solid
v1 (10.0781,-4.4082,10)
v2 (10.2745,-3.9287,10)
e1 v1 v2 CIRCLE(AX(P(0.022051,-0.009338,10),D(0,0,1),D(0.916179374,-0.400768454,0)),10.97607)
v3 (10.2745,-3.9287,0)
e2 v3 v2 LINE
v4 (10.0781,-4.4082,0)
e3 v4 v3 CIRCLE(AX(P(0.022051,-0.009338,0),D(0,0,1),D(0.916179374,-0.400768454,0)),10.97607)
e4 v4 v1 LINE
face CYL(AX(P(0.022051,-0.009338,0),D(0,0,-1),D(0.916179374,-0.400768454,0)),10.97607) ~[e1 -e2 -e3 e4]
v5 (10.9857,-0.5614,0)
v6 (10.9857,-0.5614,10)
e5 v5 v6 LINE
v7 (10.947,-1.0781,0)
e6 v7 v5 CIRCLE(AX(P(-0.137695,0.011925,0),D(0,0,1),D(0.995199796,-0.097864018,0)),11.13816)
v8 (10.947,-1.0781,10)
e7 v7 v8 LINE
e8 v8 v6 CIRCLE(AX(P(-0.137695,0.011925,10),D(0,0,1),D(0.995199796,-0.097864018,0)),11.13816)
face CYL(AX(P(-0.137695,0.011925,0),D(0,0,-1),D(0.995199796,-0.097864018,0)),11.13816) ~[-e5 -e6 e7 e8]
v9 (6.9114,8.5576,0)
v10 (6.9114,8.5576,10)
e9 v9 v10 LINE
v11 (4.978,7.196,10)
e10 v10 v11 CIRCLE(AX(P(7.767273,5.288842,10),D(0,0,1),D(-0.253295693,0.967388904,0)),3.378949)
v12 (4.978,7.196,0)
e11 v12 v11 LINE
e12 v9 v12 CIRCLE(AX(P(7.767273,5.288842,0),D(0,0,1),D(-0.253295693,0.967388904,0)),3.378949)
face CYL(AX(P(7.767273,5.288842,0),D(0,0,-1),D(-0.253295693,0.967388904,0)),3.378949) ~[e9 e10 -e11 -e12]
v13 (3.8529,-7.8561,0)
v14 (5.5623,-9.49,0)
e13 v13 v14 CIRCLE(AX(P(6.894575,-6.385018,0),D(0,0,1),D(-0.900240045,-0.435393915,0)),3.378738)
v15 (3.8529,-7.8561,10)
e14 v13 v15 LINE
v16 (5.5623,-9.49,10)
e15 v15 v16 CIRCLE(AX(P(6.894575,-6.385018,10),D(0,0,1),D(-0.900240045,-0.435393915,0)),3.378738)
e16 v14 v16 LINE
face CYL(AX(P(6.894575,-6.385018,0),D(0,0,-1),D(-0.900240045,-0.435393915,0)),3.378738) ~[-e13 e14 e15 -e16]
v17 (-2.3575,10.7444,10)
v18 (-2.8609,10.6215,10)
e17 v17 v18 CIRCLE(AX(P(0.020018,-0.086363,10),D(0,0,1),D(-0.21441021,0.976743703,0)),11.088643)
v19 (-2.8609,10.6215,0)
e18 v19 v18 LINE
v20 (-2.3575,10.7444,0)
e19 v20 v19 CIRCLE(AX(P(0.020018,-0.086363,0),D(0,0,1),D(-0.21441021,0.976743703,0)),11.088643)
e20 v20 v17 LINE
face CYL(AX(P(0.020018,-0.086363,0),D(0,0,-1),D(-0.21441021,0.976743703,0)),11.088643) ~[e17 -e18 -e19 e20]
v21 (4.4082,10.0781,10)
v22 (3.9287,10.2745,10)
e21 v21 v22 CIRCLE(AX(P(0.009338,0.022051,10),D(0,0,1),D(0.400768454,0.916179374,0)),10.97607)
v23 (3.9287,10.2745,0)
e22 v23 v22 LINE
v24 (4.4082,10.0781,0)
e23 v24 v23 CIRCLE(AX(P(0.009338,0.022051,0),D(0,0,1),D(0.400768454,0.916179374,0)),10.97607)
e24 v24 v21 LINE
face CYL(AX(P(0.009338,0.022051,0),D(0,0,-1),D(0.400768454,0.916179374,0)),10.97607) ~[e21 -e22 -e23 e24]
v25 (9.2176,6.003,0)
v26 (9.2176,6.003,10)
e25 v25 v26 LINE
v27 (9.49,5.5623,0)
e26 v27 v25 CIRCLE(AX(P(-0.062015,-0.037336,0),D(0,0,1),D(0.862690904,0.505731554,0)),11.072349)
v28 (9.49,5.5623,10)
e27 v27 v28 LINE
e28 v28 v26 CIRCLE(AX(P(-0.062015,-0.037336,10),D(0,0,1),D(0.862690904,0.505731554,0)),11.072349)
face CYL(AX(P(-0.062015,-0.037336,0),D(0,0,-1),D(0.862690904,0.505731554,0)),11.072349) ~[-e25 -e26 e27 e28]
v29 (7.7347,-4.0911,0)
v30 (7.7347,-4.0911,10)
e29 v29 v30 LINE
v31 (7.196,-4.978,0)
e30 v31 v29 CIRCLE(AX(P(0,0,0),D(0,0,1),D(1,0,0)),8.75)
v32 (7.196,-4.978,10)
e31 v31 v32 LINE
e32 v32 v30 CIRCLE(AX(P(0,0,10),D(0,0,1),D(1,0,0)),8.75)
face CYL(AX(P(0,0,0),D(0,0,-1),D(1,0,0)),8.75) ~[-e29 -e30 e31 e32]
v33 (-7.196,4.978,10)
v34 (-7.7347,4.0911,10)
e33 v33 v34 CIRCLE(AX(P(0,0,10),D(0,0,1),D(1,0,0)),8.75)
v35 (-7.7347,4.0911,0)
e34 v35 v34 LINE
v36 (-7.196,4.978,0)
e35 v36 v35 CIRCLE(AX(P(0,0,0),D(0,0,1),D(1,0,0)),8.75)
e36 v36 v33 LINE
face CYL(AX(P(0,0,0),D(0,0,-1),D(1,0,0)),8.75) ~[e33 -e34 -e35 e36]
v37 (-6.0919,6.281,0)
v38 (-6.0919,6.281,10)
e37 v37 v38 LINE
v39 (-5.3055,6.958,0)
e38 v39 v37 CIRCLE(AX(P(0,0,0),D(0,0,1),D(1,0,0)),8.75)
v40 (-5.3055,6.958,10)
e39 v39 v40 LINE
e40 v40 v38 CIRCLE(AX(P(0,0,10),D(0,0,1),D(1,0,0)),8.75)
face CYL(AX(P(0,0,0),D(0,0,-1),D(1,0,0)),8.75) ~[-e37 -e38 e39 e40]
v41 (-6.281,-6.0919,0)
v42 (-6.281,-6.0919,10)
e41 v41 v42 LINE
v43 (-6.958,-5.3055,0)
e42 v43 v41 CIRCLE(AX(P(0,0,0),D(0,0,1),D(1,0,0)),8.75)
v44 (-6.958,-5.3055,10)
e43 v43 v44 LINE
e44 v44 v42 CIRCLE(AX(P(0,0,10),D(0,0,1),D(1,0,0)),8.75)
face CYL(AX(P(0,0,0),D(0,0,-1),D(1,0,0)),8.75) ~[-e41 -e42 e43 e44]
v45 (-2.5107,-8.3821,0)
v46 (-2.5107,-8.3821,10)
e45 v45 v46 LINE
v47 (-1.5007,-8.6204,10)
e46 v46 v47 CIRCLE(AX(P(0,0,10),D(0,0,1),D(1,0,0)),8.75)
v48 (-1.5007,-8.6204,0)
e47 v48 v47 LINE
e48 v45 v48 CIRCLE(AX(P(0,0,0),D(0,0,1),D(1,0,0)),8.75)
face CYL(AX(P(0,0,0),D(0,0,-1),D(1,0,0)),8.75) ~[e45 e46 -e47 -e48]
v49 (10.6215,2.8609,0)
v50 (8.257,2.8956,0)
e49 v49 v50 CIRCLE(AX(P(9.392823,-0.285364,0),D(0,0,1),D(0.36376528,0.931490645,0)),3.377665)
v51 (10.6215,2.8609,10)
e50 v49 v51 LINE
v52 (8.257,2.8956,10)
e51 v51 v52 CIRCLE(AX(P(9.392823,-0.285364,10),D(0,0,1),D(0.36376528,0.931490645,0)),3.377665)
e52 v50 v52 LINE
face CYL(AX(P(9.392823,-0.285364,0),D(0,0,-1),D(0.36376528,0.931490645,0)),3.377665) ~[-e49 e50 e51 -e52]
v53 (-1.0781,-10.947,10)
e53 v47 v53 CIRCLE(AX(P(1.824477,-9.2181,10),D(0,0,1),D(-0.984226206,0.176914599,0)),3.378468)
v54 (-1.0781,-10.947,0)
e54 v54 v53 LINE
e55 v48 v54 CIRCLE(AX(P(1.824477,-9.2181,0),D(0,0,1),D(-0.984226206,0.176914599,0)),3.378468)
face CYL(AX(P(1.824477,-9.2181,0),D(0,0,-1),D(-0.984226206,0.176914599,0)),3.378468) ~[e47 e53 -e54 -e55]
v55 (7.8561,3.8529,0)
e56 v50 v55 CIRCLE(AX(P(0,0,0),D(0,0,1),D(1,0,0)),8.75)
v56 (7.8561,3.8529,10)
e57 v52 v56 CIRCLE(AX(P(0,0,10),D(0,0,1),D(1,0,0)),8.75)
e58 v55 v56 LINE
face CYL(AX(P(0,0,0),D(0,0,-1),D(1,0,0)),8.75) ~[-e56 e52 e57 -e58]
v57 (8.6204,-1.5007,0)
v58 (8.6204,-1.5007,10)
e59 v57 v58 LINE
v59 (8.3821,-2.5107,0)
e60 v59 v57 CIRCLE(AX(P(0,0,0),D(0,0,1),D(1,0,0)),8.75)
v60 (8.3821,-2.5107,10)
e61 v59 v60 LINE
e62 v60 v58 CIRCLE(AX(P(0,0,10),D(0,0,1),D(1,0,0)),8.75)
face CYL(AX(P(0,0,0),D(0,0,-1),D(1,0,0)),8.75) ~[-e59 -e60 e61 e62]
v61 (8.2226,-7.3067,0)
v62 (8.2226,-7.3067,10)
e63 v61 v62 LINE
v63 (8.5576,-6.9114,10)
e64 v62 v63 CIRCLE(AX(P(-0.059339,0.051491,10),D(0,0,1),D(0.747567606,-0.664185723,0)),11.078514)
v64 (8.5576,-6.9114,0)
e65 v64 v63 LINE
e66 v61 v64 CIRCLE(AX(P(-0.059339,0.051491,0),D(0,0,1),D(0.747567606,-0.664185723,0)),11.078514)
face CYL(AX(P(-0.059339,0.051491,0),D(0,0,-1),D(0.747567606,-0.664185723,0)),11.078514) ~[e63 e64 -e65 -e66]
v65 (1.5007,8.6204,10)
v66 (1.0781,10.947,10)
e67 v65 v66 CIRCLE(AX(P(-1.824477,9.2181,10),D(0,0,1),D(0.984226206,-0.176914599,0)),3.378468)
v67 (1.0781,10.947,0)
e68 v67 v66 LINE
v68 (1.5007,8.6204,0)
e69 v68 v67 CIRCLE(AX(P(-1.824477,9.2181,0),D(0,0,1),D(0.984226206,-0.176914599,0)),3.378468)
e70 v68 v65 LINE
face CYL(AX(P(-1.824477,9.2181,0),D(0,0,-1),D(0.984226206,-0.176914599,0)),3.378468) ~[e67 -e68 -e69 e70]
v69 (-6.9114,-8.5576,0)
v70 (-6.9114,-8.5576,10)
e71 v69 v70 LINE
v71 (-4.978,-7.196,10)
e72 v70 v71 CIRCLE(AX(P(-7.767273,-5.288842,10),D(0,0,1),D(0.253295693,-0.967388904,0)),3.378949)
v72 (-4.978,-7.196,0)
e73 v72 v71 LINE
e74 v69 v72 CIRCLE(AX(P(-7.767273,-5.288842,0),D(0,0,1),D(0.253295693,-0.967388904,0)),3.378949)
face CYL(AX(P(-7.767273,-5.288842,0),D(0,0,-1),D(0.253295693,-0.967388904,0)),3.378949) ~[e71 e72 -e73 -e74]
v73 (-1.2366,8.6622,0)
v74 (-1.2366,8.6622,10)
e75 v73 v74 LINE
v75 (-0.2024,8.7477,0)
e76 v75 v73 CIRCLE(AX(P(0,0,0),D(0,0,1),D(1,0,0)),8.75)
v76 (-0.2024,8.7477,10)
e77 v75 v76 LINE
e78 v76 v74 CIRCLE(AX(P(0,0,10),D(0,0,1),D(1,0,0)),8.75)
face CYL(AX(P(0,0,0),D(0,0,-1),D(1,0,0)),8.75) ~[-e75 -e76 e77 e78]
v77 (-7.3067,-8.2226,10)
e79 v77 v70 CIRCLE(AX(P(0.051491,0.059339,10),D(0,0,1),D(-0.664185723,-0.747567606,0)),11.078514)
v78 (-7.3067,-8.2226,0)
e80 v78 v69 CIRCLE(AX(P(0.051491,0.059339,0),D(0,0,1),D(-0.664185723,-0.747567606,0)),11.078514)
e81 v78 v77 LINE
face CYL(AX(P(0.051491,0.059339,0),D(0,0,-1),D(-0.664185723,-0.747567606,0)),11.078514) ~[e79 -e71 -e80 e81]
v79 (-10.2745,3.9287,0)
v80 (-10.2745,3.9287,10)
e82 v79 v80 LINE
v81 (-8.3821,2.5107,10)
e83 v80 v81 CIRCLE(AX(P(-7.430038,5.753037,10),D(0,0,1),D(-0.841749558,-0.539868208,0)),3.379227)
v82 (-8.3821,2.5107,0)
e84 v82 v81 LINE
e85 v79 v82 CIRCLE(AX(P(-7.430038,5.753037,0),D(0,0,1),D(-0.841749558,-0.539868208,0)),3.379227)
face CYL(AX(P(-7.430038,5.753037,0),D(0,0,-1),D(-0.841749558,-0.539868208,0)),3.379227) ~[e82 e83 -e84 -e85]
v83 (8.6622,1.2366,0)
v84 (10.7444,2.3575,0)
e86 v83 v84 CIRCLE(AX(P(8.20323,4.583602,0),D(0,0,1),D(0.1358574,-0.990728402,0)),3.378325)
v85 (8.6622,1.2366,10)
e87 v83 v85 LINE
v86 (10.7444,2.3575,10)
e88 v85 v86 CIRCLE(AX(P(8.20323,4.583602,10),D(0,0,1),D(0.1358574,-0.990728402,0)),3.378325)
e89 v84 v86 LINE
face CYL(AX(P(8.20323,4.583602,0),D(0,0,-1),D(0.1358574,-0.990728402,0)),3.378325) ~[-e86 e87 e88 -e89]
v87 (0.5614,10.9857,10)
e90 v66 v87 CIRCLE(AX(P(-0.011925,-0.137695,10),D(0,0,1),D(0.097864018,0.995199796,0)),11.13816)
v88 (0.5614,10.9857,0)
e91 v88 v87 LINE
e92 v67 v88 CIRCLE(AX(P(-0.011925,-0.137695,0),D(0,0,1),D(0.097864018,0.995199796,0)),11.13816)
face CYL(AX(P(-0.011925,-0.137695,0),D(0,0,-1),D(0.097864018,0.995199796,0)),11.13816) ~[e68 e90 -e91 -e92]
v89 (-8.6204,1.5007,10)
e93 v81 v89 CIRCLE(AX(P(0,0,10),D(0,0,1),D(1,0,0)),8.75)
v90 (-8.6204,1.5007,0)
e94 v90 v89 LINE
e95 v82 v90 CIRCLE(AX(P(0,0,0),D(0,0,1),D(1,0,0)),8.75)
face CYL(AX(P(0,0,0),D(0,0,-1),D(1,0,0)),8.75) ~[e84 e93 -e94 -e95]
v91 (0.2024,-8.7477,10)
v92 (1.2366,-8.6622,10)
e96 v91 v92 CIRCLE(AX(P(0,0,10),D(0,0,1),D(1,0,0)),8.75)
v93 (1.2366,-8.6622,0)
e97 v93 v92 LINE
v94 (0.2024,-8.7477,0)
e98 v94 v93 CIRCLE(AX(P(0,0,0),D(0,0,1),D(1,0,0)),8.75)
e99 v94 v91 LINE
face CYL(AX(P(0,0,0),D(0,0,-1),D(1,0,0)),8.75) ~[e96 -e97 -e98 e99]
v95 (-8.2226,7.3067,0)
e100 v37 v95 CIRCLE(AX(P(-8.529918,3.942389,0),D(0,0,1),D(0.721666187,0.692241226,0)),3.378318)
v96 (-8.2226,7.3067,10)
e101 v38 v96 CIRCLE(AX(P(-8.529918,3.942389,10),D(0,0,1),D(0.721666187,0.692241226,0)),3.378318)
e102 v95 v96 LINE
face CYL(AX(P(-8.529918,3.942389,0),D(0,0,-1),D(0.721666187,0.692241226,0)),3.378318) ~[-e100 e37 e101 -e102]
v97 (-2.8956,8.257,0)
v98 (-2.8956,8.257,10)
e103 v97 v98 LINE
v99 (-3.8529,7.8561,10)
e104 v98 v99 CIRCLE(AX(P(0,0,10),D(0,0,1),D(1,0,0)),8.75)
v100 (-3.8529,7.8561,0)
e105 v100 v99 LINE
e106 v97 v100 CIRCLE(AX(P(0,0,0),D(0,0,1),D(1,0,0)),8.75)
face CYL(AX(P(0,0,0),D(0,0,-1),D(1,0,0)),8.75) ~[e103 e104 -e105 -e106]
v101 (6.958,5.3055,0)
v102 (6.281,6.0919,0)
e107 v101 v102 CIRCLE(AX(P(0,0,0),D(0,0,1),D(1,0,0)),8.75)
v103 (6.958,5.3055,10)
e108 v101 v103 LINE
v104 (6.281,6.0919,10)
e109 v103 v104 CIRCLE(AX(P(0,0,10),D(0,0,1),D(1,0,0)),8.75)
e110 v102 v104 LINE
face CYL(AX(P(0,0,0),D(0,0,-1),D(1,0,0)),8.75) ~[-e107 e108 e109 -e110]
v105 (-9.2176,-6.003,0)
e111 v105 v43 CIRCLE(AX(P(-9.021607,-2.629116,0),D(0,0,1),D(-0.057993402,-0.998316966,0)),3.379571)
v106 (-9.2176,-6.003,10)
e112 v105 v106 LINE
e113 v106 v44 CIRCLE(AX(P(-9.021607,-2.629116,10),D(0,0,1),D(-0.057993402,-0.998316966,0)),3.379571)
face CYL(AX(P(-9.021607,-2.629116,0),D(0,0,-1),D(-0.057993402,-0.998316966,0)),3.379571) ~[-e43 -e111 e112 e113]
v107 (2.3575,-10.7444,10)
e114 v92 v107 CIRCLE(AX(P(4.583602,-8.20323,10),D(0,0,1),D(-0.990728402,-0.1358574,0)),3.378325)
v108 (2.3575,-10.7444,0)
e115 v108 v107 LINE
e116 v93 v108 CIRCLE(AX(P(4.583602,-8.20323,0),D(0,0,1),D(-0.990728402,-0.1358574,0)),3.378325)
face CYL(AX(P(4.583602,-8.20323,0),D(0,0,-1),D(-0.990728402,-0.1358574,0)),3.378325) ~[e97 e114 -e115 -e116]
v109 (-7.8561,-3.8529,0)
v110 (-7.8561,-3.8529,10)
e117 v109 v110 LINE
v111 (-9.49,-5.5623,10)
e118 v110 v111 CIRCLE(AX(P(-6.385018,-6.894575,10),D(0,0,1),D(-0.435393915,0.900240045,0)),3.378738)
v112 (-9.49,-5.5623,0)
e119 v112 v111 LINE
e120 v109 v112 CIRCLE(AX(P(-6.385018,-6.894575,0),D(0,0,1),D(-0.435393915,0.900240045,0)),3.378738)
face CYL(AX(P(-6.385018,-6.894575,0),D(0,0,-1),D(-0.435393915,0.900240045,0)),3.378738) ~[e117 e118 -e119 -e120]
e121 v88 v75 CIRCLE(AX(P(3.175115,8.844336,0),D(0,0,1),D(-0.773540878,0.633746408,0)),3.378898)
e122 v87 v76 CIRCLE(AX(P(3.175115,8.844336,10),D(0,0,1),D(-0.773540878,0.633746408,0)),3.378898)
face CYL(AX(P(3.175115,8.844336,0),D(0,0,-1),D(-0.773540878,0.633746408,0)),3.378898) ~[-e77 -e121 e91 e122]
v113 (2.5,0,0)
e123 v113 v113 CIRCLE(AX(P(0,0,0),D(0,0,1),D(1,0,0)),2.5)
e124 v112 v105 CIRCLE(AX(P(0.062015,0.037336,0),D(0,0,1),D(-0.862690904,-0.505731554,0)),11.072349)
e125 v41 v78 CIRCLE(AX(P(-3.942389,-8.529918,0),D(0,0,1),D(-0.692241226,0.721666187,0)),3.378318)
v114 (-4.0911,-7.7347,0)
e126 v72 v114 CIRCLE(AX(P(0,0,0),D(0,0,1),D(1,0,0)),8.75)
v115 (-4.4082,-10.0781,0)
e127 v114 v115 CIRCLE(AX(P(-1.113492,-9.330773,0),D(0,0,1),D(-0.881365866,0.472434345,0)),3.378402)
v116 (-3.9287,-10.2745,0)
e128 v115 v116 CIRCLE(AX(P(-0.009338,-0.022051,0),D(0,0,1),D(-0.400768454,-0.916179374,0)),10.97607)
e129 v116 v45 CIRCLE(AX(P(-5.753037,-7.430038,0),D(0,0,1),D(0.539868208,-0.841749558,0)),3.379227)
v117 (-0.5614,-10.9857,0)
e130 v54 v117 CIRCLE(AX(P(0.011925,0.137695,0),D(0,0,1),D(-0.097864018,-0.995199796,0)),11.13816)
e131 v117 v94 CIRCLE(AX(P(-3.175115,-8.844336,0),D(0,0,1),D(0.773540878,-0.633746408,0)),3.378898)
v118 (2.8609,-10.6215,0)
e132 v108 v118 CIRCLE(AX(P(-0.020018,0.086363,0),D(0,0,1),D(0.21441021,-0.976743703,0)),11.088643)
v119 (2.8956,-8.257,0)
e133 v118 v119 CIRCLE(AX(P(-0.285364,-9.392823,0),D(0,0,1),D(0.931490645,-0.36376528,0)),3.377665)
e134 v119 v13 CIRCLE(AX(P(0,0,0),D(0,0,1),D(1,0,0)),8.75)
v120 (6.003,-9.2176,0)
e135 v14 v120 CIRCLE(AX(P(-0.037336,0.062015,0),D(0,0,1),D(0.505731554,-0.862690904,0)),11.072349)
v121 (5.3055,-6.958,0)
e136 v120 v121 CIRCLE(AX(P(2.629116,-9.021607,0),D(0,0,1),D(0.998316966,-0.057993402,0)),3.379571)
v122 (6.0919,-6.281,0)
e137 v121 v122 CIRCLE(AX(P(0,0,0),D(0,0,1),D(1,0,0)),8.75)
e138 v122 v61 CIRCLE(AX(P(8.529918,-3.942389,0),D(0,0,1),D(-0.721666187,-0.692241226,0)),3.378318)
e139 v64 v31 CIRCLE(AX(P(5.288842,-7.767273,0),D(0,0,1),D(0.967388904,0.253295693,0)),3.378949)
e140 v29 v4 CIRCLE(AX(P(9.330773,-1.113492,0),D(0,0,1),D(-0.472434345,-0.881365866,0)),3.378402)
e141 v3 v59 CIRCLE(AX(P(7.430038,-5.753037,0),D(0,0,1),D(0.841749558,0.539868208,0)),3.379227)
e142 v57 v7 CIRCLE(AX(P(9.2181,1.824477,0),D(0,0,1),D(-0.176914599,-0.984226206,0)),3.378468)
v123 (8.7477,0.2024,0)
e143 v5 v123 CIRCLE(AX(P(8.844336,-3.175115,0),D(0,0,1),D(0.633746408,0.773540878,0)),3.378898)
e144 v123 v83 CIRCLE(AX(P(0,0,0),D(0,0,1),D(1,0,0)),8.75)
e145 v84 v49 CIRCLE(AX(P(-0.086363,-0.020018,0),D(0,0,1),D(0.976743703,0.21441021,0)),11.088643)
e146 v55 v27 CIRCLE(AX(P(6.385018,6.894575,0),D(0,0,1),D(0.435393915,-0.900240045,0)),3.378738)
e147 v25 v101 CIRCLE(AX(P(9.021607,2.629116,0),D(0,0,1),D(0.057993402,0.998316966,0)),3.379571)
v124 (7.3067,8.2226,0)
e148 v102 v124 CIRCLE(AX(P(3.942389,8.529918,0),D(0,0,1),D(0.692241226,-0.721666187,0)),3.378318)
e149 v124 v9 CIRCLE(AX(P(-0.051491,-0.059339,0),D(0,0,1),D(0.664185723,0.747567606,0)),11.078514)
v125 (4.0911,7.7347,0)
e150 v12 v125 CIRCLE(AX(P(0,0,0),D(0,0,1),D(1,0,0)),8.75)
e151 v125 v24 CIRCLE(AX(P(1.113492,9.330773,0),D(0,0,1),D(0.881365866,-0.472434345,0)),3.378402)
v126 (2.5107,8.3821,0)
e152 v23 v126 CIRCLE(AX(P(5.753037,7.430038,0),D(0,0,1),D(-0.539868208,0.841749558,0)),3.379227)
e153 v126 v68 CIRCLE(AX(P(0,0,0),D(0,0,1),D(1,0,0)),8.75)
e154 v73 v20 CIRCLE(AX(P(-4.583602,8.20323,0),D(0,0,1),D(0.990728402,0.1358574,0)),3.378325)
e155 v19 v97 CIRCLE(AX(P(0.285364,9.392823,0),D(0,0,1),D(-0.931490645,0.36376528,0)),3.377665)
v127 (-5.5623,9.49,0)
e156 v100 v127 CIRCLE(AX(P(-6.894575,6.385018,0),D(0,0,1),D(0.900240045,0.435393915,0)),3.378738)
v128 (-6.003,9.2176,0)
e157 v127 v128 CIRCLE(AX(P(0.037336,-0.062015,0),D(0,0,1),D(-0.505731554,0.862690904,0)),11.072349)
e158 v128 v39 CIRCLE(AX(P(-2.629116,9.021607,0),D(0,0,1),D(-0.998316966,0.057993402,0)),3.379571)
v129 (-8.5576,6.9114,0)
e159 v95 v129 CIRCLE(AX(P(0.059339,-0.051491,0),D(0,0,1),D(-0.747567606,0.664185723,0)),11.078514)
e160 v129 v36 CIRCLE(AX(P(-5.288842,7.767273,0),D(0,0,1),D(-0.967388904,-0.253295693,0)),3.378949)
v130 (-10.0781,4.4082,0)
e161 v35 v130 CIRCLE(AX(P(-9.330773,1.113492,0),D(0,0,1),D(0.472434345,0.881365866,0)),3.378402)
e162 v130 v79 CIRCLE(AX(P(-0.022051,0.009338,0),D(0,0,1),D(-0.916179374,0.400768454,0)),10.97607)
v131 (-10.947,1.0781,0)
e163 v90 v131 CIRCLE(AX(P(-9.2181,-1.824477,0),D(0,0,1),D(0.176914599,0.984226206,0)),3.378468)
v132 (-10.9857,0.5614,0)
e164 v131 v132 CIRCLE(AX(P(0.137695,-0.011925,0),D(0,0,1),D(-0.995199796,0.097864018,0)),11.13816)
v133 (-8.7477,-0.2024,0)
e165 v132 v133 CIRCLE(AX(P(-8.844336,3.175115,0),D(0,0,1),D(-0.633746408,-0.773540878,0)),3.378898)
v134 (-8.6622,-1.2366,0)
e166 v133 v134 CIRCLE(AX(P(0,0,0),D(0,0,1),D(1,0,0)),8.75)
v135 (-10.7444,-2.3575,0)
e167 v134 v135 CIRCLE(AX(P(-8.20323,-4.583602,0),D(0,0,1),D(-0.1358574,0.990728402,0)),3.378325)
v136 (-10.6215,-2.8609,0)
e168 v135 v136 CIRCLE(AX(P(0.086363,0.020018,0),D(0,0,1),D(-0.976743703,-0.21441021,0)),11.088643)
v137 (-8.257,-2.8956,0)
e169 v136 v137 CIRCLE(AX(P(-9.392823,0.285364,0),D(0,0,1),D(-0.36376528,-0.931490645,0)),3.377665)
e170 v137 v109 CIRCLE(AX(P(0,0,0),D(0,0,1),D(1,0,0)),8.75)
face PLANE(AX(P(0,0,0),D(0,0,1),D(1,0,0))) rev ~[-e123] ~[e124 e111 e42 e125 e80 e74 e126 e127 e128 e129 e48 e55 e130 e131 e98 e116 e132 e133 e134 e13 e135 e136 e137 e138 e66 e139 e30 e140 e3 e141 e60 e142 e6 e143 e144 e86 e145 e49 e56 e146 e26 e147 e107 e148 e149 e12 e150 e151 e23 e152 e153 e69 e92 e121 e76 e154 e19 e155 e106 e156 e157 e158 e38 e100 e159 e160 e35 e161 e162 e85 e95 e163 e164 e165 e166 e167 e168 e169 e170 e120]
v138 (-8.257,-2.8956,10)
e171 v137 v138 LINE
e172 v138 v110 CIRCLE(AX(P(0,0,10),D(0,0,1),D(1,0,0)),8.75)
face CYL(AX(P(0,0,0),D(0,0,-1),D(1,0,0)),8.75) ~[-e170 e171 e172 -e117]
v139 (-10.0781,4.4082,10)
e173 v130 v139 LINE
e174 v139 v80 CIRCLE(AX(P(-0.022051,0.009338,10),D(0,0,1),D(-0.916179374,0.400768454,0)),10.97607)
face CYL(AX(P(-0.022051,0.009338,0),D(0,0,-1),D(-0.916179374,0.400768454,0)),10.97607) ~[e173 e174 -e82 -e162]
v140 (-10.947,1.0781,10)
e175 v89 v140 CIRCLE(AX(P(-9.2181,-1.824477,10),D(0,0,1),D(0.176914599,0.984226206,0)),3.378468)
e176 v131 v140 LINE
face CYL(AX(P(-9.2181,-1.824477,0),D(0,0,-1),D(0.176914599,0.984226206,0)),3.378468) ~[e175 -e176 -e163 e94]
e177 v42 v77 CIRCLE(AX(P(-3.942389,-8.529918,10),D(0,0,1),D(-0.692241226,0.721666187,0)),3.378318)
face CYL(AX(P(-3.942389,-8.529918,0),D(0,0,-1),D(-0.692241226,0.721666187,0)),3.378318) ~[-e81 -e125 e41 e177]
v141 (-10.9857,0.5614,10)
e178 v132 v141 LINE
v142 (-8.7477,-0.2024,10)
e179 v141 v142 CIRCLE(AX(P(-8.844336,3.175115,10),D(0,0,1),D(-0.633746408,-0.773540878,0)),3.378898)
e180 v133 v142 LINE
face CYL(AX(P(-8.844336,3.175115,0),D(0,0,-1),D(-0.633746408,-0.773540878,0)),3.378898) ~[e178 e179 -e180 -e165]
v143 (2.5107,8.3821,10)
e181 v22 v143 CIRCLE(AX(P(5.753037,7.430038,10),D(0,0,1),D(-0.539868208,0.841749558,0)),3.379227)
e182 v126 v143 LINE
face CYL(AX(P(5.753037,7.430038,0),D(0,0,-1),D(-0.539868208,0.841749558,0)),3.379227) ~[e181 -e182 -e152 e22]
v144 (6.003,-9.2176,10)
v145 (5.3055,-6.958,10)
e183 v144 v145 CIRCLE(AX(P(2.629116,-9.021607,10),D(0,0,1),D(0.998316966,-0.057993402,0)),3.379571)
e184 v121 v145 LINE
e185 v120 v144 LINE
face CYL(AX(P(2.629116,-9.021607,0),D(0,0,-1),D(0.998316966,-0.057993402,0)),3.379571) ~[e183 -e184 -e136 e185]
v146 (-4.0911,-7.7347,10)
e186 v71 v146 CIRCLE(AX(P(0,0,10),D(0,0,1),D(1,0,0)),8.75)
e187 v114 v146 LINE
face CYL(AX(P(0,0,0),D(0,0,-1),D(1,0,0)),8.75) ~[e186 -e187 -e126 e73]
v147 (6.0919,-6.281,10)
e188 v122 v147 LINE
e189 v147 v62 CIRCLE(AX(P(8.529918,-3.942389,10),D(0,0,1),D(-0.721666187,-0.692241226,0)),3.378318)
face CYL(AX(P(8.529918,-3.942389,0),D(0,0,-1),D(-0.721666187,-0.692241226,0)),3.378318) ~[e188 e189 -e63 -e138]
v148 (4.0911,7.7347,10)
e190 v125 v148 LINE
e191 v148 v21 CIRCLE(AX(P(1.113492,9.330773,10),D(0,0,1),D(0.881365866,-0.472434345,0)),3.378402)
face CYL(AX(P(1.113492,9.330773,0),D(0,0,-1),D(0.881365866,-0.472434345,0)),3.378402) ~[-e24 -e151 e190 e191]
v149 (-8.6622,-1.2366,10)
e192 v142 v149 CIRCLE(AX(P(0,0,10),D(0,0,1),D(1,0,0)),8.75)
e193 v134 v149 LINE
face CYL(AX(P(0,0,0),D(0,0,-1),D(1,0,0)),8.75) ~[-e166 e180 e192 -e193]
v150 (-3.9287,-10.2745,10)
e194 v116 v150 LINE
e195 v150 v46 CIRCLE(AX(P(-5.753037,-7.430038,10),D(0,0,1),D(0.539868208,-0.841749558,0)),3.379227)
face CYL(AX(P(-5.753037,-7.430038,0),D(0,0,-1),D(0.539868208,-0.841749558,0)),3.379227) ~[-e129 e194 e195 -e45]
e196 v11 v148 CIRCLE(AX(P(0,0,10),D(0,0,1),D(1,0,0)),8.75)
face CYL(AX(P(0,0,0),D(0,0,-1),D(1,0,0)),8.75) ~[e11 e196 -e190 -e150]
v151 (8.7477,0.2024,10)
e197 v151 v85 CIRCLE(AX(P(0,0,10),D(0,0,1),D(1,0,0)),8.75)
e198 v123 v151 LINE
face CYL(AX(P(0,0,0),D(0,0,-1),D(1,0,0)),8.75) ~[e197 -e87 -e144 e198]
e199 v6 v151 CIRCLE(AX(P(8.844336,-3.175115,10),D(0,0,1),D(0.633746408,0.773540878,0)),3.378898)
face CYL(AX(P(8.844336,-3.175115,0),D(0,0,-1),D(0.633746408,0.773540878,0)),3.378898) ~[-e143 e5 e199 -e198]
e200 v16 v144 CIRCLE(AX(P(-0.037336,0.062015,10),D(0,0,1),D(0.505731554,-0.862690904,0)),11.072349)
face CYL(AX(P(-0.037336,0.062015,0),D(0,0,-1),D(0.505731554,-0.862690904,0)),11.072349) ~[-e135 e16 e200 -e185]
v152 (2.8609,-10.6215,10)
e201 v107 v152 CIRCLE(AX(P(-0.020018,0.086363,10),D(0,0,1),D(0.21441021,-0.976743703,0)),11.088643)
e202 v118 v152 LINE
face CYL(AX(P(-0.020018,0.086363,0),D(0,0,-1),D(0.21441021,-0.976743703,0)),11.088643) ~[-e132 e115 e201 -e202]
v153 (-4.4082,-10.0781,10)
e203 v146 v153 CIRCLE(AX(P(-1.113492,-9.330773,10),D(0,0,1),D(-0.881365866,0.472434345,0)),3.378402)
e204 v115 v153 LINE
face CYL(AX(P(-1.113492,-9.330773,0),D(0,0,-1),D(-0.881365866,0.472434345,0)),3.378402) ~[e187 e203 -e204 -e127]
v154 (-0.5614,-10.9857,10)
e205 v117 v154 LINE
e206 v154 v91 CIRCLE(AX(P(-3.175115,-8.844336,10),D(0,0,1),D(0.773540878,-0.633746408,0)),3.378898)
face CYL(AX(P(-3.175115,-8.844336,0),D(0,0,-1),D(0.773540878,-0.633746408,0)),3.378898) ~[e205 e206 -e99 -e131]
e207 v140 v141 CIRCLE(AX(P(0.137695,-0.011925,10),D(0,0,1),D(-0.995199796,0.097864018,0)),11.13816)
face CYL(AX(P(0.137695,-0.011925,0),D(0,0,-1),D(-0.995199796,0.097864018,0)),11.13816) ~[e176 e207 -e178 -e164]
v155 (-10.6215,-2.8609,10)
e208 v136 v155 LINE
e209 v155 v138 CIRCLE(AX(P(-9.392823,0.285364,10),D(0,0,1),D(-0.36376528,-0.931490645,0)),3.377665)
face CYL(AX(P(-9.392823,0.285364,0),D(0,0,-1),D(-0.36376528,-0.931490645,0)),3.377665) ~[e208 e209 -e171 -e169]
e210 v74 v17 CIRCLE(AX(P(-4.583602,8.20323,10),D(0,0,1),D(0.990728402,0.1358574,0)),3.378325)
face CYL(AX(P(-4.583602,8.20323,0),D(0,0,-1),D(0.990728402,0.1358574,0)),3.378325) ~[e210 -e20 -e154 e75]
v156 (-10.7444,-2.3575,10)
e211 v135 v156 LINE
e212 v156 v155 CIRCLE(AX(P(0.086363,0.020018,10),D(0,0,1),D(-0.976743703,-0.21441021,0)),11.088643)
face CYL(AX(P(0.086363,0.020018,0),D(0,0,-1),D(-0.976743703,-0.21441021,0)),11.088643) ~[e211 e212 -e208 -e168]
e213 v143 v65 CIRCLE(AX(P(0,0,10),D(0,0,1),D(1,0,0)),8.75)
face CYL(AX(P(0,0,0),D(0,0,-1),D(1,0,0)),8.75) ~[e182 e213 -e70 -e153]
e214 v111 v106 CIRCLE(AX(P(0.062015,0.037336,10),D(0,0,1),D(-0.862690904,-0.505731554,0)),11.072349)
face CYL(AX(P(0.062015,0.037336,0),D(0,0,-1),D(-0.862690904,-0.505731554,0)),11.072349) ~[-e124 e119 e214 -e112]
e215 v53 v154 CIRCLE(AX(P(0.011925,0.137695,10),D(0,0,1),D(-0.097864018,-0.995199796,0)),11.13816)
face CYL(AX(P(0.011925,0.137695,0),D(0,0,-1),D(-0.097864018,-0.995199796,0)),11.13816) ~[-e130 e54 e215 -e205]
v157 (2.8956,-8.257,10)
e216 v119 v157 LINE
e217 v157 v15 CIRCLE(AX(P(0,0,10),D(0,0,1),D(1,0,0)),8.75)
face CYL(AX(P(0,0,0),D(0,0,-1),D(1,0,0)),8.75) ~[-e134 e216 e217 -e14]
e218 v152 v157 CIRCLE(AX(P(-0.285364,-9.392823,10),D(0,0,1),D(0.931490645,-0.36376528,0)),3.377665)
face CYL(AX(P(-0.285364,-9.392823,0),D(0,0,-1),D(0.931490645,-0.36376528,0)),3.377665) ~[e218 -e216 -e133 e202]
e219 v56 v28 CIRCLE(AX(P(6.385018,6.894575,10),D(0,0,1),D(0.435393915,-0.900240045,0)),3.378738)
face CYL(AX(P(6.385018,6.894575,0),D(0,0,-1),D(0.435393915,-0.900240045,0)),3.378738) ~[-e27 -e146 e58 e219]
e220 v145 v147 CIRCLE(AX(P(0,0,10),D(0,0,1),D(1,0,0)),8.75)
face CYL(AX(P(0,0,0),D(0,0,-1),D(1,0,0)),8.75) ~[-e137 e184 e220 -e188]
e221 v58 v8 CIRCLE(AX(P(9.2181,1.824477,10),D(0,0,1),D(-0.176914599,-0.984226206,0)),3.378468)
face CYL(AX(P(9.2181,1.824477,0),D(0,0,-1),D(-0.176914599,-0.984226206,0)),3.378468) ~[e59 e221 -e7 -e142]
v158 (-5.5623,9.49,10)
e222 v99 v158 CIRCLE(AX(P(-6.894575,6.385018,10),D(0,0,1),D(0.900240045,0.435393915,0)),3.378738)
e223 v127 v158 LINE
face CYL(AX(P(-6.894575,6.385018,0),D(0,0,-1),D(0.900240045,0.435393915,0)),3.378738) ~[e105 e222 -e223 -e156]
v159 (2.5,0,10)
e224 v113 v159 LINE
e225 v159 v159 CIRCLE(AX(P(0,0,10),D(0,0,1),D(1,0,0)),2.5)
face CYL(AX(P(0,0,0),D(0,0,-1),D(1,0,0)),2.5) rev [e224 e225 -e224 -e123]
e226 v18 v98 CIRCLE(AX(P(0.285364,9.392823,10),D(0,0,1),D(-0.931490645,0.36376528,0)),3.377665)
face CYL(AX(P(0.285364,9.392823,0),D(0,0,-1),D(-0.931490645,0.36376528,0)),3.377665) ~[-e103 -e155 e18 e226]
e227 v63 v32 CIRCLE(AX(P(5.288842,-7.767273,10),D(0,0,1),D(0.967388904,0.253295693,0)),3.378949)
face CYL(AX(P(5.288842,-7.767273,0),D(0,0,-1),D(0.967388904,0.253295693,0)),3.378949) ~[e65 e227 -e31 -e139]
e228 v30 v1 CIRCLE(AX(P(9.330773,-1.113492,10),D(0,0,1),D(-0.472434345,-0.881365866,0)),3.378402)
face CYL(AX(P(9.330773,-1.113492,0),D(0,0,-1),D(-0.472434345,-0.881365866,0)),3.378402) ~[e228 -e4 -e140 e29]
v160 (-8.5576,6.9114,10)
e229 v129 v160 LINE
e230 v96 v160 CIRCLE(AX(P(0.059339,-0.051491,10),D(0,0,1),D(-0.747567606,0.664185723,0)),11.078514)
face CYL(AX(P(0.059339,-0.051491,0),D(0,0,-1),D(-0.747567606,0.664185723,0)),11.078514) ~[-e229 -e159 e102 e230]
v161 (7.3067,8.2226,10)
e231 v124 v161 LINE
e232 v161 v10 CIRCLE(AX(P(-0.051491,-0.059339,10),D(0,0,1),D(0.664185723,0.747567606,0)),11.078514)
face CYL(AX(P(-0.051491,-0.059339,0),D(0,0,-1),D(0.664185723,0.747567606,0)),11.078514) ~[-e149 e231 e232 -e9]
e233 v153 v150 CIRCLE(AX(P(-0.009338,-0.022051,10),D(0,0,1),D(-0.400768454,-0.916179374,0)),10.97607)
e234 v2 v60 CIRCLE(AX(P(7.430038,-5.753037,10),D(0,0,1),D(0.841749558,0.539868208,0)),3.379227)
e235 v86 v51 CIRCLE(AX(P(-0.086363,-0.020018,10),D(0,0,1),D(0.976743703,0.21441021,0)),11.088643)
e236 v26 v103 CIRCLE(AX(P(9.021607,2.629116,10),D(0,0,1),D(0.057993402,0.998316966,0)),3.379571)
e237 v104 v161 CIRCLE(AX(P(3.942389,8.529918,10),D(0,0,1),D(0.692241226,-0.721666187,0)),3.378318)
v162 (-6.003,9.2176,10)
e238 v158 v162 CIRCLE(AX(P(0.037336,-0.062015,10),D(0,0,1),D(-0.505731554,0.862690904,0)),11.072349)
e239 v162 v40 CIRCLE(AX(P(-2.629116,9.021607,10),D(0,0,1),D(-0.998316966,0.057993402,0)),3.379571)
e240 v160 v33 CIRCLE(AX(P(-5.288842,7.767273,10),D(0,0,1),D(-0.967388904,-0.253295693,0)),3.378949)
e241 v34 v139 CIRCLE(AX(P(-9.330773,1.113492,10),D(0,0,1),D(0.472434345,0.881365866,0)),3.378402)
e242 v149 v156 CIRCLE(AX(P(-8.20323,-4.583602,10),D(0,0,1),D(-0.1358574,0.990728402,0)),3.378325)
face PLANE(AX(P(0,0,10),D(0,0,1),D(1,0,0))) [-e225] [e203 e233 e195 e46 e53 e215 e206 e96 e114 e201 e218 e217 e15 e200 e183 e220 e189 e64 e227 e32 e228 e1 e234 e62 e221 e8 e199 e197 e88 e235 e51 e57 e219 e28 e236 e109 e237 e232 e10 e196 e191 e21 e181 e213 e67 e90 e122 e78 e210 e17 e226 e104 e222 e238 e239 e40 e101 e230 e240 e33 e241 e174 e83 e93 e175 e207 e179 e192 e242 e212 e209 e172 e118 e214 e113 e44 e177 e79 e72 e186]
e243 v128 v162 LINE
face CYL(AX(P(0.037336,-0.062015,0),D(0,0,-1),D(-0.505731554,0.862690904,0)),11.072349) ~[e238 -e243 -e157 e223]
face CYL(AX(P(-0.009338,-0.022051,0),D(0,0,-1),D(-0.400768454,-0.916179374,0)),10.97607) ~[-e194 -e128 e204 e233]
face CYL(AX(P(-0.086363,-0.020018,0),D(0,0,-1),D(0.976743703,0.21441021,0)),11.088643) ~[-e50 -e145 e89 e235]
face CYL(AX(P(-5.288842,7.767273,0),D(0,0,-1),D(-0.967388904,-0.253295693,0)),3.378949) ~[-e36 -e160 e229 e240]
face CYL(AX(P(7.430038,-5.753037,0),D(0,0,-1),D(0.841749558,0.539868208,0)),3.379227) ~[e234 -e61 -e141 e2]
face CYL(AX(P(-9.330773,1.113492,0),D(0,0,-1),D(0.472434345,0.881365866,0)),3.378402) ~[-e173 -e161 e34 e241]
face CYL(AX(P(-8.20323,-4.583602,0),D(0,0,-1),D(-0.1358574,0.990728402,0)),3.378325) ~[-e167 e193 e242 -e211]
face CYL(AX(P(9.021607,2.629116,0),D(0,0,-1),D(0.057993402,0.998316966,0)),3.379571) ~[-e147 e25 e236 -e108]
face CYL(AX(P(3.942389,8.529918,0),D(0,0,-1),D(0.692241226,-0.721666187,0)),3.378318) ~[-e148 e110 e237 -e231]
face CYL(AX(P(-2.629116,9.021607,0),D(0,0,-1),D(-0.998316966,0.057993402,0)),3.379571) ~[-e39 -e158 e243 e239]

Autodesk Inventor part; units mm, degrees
ref_plane "YZ Plane" through (0, 0, 0) normal (1, 0, 0) x (0, 1, 0)
ref_plane "XZ Plane" through (0, 0, 0) normal (0, 1, 0) x (-1, 0, 0)
ref_plane "XY Plane" through (0, 0, 0) normal (0, 0, 1) x (1, 0, 0)
sketch "Sketch1" plane through (0, 0, 0) normal (0, 0, 1) x (1, 0, 0)
  arc A0 (10.947, -1.0781) -> (10.9857, -0.5614) centre (0, 0) ccw
  circle A1 centre (0, 0) radius 8.75
  line L0 (0, 0) -> (18.5832, 0) construction
  arc A2 (10.9857, -0.5614) -> (8.7477, 0.2024) centre (8.8444, -3.175) ccw
  line L1 (0, 0) -> (16.1968, 0) construction
  line L2 (0, 0) -> (16.1894, 0) construction
  arc A3 (8.6204, -1.5007) -> (10.947, -1.0781) centre (9.2181, 1.8248) ccw
  arc A4 (10.7444, 2.3575) -> (10.6215, 2.8609) centre (0, 0) ccw
  arc A5 (10.6215, 2.8609) -> (8.257, 2.8956) centre (9.3926, -0.2865) ccw
  arc A6 (8.6622, 1.2366) -> (10.7444, 2.3575) centre (8.2031, 4.584) ccw
  arc A7 (9.49, 5.5623) -> (9.2176, 6.003) centre (0, 0) ccw
  arc A8 (9.2176, 6.003) -> (6.958, 5.3055) centre (9.0215, 2.63) ccw
  arc A9 (7.8561, 3.8529) -> (9.49, 5.5623) centre (6.385, 6.8946) ccw
  arc A10 (7.3067, 8.2226) -> (6.9114, 8.5576) centre (0, 0) ccw
  arc A11 (6.9114, 8.5576) -> (4.978, 7.196) centre (7.7672, 5.289) ccw
  arc A12 (6.281, 6.0919) -> (7.3067, 8.2226) centre (3.942, 8.5302) ccw
  arc A13 (4.4082, 10.0781) -> (3.9287, 10.2745) centre (0, 0) ccw
  arc A14 (3.9287, 10.2745) -> (2.5107, 8.3821) centre (5.7527, 7.4304) ccw
  arc A15 (4.0911, 7.7347) -> (4.4082, 10.0781) centre (1.1131, 9.3309) ccw
  arc A16 (1.0781, 10.947) -> (0.5614, 10.9857) centre (0, 0) ccw
  arc A17 (0.5614, 10.9857) -> (-0.2024, 8.7477) centre (3.175, 8.8444) ccw
  arc A18 (1.5007, 8.6204) -> (1.0781, 10.947) centre (-1.8248, 9.2181) ccw
  arc A19 (-2.3575, 10.7444) -> (-2.8609, 10.6215) centre (0, 0) ccw
  arc A20 (-2.8609, 10.6215) -> (-2.8956, 8.257) centre (0.2865, 9.3926) ccw
  arc A21 (-1.2366, 8.6622) -> (-2.3575, 10.7444) centre (-4.584, 8.2031) ccw
  arc A22 (-5.5623, 9.49) -> (-6.003, 9.2176) centre (0, 0) ccw
  arc A23 (-6.003, 9.2176) -> (-5.3055, 6.958) centre (-2.63, 9.0215) ccw
  arc A24 (-3.8529, 7.8561) -> (-5.5623, 9.49) centre (-6.8946, 6.385) ccw
  arc A25 (-8.2226, 7.3067) -> (-8.5576, 6.9114) centre (0, 0) ccw
  arc A26 (-8.5576, 6.9114) -> (-7.196, 4.978) centre (-5.289, 7.7672) ccw
  arc A27 (-6.0919, 6.281) -> (-8.2226, 7.3067) centre (-8.5302, 3.942) ccw
  arc A28 (-10.0781, 4.4082) -> (-10.2745, 3.9287) centre (0, 0) ccw
  arc A29 (-10.2745, 3.9287) -> (-8.3821, 2.5107) centre (-7.4304, 5.7527) ccw
  arc A30 (-7.7347, 4.0911) -> (-10.0781, 4.4082) centre (-9.3309, 1.1131) ccw
  arc A31 (-10.947, 1.0781) -> (-10.9857, 0.5614) centre (0, 0) ccw
  arc A32 (-10.9857, 0.5614) -> (-8.7477, -0.2024) centre (-8.8444, 3.175) ccw
  arc A33 (-8.6204, 1.5007) -> (-10.947, 1.0781) centre (-9.2181, -1.8248) ccw
  arc A34 (-10.7444, -2.3575) -> (-10.6215, -2.8609) centre (0, 0) ccw
  arc A35 (-10.6215, -2.8609) -> (-8.257, -2.8956) centre (-9.3926, 0.2865) ccw
  arc A36 (-8.6622, -1.2366) -> (-10.7444, -2.3575) centre (-8.2031, -4.584) ccw
  arc A37 (-9.49, -5.5623) -> (-9.2176, -6.003) centre (0, 0) ccw
  arc A38 (-9.2176, -6.003) -> (-6.958, -5.3055) centre (-9.0215, -2.63) ccw
  arc A39 (-7.8561, -3.8529) -> (-9.49, -5.5623) centre (-6.385, -6.8946) ccw
  arc A40 (-7.3067, -8.2226) -> (-6.9114, -8.5576) centre (0, 0) ccw
  arc A41 (-6.9114, -8.5576) -> (-4.978, -7.196) centre (-7.7672, -5.289) ccw
  arc A42 (-6.281, -6.0919) -> (-7.3067, -8.2226) centre (-3.942, -8.5302) ccw
  arc A43 (-4.4082, -10.0781) -> (-3.9287, -10.2745) centre (0, 0) ccw
  arc A44 (-3.9287, -10.2745) -> (-2.5107, -8.3821) centre (-5.7527, -7.4304) ccw
  arc A45 (-4.0911, -7.7347) -> (-4.4082, -10.0781) centre (-1.1131, -9.3309) ccw
  arc A46 (-1.0781, -10.947) -> (-0.5614, -10.9857) centre (0, 0) ccw
  arc A47 (-0.5614, -10.9857) -> (0.2024, -8.7477) centre (-3.175, -8.8444) ccw
  arc A48 (-1.5007, -8.6204) -> (-1.0781, -10.947) centre (1.8248, -9.2181) ccw
  arc A49 (2.3575, -10.7444) -> (2.8609, -10.6215) centre (0, 0) ccw
  arc A50 (2.8609, -10.6215) -> (2.8956, -8.257) centre (-0.2865, -9.3926) ccw
  arc A51 (1.2366, -8.6622) -> (2.3575, -10.7444) centre (4.584, -8.2031) ccw
  arc A52 (5.5623, -9.49) -> (6.003, -9.2176) centre (0, 0) ccw
  arc A53 (6.003, -9.2176) -> (5.3055, -6.958) centre (2.63, -9.0215) ccw
  arc A54 (3.8529, -7.8561) -> (5.5623, -9.49) centre (6.8946, -6.385) ccw
  arc A55 (8.2226, -7.3067) -> (8.5576, -6.9114) centre (0, 0) ccw
  arc A56 (8.5576, -6.9114) -> (7.196, -4.978) centre (5.289, -7.7672) ccw
  arc A57 (6.0919, -6.281) -> (8.2226, -7.3067) centre (8.5302, -3.942) ccw
  arc A58 (10.0781, -4.4082) -> (10.2745, -3.9287) centre (0, 0) ccw
  arc A59 (10.2745, -3.9287) -> (8.3821, -2.5107) centre (7.4304, -5.7527) ccw
  arc A60 (7.7347, -4.0911) -> (10.0781, -4.4082) centre (9.3309, -1.1131) ccw
  circle A61 centre (0, 0) radius 2.5
  point P0 (-0.2024, 8.7477)
  point P1 (-1.2366, 8.6622)
  point P2 (-2.8956, 8.257)
  point P3 (-3.8529, 7.8561)
  point P4 (-5.3055, 6.958)
  point P5 (-8.7477, -0.2024)
  point P6 (-8.257, -2.8956)
  point P7 (-7.8561, -3.8529)
  point P8 (-6.958, -5.3055)
  point P9 (-4.0911, -7.7347)
  point P10 (-2.5107, -8.3821)
  point P11 (0.2024, -8.7477)
  point P12 (1.2366, -8.6622)
  point P13 (2.8956, -8.257)
  point P14 (3.8529, -7.8561)
  point P15 (7.196, -4.978)
  point P16 (7.7347, -4.0911)
  point P17 (8.3821, -2.5107)
  point P18 (8.6622, 1.2366)
  point P19 (8.257, 2.8956)
  point P20 (7.8561, 3.8529)
  point P21 (6.958, 5.3055)
  point P22 (4.978, 7.196)
  point P23 (4.0911, 7.7347)
  point P24 (2.5107, 8.3821)
  dimension "d2" = 17.5
  dimension "d1" = 22
  dimension "d8" = 360
  dimension "d10" = 5
extrude "Extrusion1" add sketch "Sketch1" along normal blind 10
properties part number "PLANETARIO SOL"
